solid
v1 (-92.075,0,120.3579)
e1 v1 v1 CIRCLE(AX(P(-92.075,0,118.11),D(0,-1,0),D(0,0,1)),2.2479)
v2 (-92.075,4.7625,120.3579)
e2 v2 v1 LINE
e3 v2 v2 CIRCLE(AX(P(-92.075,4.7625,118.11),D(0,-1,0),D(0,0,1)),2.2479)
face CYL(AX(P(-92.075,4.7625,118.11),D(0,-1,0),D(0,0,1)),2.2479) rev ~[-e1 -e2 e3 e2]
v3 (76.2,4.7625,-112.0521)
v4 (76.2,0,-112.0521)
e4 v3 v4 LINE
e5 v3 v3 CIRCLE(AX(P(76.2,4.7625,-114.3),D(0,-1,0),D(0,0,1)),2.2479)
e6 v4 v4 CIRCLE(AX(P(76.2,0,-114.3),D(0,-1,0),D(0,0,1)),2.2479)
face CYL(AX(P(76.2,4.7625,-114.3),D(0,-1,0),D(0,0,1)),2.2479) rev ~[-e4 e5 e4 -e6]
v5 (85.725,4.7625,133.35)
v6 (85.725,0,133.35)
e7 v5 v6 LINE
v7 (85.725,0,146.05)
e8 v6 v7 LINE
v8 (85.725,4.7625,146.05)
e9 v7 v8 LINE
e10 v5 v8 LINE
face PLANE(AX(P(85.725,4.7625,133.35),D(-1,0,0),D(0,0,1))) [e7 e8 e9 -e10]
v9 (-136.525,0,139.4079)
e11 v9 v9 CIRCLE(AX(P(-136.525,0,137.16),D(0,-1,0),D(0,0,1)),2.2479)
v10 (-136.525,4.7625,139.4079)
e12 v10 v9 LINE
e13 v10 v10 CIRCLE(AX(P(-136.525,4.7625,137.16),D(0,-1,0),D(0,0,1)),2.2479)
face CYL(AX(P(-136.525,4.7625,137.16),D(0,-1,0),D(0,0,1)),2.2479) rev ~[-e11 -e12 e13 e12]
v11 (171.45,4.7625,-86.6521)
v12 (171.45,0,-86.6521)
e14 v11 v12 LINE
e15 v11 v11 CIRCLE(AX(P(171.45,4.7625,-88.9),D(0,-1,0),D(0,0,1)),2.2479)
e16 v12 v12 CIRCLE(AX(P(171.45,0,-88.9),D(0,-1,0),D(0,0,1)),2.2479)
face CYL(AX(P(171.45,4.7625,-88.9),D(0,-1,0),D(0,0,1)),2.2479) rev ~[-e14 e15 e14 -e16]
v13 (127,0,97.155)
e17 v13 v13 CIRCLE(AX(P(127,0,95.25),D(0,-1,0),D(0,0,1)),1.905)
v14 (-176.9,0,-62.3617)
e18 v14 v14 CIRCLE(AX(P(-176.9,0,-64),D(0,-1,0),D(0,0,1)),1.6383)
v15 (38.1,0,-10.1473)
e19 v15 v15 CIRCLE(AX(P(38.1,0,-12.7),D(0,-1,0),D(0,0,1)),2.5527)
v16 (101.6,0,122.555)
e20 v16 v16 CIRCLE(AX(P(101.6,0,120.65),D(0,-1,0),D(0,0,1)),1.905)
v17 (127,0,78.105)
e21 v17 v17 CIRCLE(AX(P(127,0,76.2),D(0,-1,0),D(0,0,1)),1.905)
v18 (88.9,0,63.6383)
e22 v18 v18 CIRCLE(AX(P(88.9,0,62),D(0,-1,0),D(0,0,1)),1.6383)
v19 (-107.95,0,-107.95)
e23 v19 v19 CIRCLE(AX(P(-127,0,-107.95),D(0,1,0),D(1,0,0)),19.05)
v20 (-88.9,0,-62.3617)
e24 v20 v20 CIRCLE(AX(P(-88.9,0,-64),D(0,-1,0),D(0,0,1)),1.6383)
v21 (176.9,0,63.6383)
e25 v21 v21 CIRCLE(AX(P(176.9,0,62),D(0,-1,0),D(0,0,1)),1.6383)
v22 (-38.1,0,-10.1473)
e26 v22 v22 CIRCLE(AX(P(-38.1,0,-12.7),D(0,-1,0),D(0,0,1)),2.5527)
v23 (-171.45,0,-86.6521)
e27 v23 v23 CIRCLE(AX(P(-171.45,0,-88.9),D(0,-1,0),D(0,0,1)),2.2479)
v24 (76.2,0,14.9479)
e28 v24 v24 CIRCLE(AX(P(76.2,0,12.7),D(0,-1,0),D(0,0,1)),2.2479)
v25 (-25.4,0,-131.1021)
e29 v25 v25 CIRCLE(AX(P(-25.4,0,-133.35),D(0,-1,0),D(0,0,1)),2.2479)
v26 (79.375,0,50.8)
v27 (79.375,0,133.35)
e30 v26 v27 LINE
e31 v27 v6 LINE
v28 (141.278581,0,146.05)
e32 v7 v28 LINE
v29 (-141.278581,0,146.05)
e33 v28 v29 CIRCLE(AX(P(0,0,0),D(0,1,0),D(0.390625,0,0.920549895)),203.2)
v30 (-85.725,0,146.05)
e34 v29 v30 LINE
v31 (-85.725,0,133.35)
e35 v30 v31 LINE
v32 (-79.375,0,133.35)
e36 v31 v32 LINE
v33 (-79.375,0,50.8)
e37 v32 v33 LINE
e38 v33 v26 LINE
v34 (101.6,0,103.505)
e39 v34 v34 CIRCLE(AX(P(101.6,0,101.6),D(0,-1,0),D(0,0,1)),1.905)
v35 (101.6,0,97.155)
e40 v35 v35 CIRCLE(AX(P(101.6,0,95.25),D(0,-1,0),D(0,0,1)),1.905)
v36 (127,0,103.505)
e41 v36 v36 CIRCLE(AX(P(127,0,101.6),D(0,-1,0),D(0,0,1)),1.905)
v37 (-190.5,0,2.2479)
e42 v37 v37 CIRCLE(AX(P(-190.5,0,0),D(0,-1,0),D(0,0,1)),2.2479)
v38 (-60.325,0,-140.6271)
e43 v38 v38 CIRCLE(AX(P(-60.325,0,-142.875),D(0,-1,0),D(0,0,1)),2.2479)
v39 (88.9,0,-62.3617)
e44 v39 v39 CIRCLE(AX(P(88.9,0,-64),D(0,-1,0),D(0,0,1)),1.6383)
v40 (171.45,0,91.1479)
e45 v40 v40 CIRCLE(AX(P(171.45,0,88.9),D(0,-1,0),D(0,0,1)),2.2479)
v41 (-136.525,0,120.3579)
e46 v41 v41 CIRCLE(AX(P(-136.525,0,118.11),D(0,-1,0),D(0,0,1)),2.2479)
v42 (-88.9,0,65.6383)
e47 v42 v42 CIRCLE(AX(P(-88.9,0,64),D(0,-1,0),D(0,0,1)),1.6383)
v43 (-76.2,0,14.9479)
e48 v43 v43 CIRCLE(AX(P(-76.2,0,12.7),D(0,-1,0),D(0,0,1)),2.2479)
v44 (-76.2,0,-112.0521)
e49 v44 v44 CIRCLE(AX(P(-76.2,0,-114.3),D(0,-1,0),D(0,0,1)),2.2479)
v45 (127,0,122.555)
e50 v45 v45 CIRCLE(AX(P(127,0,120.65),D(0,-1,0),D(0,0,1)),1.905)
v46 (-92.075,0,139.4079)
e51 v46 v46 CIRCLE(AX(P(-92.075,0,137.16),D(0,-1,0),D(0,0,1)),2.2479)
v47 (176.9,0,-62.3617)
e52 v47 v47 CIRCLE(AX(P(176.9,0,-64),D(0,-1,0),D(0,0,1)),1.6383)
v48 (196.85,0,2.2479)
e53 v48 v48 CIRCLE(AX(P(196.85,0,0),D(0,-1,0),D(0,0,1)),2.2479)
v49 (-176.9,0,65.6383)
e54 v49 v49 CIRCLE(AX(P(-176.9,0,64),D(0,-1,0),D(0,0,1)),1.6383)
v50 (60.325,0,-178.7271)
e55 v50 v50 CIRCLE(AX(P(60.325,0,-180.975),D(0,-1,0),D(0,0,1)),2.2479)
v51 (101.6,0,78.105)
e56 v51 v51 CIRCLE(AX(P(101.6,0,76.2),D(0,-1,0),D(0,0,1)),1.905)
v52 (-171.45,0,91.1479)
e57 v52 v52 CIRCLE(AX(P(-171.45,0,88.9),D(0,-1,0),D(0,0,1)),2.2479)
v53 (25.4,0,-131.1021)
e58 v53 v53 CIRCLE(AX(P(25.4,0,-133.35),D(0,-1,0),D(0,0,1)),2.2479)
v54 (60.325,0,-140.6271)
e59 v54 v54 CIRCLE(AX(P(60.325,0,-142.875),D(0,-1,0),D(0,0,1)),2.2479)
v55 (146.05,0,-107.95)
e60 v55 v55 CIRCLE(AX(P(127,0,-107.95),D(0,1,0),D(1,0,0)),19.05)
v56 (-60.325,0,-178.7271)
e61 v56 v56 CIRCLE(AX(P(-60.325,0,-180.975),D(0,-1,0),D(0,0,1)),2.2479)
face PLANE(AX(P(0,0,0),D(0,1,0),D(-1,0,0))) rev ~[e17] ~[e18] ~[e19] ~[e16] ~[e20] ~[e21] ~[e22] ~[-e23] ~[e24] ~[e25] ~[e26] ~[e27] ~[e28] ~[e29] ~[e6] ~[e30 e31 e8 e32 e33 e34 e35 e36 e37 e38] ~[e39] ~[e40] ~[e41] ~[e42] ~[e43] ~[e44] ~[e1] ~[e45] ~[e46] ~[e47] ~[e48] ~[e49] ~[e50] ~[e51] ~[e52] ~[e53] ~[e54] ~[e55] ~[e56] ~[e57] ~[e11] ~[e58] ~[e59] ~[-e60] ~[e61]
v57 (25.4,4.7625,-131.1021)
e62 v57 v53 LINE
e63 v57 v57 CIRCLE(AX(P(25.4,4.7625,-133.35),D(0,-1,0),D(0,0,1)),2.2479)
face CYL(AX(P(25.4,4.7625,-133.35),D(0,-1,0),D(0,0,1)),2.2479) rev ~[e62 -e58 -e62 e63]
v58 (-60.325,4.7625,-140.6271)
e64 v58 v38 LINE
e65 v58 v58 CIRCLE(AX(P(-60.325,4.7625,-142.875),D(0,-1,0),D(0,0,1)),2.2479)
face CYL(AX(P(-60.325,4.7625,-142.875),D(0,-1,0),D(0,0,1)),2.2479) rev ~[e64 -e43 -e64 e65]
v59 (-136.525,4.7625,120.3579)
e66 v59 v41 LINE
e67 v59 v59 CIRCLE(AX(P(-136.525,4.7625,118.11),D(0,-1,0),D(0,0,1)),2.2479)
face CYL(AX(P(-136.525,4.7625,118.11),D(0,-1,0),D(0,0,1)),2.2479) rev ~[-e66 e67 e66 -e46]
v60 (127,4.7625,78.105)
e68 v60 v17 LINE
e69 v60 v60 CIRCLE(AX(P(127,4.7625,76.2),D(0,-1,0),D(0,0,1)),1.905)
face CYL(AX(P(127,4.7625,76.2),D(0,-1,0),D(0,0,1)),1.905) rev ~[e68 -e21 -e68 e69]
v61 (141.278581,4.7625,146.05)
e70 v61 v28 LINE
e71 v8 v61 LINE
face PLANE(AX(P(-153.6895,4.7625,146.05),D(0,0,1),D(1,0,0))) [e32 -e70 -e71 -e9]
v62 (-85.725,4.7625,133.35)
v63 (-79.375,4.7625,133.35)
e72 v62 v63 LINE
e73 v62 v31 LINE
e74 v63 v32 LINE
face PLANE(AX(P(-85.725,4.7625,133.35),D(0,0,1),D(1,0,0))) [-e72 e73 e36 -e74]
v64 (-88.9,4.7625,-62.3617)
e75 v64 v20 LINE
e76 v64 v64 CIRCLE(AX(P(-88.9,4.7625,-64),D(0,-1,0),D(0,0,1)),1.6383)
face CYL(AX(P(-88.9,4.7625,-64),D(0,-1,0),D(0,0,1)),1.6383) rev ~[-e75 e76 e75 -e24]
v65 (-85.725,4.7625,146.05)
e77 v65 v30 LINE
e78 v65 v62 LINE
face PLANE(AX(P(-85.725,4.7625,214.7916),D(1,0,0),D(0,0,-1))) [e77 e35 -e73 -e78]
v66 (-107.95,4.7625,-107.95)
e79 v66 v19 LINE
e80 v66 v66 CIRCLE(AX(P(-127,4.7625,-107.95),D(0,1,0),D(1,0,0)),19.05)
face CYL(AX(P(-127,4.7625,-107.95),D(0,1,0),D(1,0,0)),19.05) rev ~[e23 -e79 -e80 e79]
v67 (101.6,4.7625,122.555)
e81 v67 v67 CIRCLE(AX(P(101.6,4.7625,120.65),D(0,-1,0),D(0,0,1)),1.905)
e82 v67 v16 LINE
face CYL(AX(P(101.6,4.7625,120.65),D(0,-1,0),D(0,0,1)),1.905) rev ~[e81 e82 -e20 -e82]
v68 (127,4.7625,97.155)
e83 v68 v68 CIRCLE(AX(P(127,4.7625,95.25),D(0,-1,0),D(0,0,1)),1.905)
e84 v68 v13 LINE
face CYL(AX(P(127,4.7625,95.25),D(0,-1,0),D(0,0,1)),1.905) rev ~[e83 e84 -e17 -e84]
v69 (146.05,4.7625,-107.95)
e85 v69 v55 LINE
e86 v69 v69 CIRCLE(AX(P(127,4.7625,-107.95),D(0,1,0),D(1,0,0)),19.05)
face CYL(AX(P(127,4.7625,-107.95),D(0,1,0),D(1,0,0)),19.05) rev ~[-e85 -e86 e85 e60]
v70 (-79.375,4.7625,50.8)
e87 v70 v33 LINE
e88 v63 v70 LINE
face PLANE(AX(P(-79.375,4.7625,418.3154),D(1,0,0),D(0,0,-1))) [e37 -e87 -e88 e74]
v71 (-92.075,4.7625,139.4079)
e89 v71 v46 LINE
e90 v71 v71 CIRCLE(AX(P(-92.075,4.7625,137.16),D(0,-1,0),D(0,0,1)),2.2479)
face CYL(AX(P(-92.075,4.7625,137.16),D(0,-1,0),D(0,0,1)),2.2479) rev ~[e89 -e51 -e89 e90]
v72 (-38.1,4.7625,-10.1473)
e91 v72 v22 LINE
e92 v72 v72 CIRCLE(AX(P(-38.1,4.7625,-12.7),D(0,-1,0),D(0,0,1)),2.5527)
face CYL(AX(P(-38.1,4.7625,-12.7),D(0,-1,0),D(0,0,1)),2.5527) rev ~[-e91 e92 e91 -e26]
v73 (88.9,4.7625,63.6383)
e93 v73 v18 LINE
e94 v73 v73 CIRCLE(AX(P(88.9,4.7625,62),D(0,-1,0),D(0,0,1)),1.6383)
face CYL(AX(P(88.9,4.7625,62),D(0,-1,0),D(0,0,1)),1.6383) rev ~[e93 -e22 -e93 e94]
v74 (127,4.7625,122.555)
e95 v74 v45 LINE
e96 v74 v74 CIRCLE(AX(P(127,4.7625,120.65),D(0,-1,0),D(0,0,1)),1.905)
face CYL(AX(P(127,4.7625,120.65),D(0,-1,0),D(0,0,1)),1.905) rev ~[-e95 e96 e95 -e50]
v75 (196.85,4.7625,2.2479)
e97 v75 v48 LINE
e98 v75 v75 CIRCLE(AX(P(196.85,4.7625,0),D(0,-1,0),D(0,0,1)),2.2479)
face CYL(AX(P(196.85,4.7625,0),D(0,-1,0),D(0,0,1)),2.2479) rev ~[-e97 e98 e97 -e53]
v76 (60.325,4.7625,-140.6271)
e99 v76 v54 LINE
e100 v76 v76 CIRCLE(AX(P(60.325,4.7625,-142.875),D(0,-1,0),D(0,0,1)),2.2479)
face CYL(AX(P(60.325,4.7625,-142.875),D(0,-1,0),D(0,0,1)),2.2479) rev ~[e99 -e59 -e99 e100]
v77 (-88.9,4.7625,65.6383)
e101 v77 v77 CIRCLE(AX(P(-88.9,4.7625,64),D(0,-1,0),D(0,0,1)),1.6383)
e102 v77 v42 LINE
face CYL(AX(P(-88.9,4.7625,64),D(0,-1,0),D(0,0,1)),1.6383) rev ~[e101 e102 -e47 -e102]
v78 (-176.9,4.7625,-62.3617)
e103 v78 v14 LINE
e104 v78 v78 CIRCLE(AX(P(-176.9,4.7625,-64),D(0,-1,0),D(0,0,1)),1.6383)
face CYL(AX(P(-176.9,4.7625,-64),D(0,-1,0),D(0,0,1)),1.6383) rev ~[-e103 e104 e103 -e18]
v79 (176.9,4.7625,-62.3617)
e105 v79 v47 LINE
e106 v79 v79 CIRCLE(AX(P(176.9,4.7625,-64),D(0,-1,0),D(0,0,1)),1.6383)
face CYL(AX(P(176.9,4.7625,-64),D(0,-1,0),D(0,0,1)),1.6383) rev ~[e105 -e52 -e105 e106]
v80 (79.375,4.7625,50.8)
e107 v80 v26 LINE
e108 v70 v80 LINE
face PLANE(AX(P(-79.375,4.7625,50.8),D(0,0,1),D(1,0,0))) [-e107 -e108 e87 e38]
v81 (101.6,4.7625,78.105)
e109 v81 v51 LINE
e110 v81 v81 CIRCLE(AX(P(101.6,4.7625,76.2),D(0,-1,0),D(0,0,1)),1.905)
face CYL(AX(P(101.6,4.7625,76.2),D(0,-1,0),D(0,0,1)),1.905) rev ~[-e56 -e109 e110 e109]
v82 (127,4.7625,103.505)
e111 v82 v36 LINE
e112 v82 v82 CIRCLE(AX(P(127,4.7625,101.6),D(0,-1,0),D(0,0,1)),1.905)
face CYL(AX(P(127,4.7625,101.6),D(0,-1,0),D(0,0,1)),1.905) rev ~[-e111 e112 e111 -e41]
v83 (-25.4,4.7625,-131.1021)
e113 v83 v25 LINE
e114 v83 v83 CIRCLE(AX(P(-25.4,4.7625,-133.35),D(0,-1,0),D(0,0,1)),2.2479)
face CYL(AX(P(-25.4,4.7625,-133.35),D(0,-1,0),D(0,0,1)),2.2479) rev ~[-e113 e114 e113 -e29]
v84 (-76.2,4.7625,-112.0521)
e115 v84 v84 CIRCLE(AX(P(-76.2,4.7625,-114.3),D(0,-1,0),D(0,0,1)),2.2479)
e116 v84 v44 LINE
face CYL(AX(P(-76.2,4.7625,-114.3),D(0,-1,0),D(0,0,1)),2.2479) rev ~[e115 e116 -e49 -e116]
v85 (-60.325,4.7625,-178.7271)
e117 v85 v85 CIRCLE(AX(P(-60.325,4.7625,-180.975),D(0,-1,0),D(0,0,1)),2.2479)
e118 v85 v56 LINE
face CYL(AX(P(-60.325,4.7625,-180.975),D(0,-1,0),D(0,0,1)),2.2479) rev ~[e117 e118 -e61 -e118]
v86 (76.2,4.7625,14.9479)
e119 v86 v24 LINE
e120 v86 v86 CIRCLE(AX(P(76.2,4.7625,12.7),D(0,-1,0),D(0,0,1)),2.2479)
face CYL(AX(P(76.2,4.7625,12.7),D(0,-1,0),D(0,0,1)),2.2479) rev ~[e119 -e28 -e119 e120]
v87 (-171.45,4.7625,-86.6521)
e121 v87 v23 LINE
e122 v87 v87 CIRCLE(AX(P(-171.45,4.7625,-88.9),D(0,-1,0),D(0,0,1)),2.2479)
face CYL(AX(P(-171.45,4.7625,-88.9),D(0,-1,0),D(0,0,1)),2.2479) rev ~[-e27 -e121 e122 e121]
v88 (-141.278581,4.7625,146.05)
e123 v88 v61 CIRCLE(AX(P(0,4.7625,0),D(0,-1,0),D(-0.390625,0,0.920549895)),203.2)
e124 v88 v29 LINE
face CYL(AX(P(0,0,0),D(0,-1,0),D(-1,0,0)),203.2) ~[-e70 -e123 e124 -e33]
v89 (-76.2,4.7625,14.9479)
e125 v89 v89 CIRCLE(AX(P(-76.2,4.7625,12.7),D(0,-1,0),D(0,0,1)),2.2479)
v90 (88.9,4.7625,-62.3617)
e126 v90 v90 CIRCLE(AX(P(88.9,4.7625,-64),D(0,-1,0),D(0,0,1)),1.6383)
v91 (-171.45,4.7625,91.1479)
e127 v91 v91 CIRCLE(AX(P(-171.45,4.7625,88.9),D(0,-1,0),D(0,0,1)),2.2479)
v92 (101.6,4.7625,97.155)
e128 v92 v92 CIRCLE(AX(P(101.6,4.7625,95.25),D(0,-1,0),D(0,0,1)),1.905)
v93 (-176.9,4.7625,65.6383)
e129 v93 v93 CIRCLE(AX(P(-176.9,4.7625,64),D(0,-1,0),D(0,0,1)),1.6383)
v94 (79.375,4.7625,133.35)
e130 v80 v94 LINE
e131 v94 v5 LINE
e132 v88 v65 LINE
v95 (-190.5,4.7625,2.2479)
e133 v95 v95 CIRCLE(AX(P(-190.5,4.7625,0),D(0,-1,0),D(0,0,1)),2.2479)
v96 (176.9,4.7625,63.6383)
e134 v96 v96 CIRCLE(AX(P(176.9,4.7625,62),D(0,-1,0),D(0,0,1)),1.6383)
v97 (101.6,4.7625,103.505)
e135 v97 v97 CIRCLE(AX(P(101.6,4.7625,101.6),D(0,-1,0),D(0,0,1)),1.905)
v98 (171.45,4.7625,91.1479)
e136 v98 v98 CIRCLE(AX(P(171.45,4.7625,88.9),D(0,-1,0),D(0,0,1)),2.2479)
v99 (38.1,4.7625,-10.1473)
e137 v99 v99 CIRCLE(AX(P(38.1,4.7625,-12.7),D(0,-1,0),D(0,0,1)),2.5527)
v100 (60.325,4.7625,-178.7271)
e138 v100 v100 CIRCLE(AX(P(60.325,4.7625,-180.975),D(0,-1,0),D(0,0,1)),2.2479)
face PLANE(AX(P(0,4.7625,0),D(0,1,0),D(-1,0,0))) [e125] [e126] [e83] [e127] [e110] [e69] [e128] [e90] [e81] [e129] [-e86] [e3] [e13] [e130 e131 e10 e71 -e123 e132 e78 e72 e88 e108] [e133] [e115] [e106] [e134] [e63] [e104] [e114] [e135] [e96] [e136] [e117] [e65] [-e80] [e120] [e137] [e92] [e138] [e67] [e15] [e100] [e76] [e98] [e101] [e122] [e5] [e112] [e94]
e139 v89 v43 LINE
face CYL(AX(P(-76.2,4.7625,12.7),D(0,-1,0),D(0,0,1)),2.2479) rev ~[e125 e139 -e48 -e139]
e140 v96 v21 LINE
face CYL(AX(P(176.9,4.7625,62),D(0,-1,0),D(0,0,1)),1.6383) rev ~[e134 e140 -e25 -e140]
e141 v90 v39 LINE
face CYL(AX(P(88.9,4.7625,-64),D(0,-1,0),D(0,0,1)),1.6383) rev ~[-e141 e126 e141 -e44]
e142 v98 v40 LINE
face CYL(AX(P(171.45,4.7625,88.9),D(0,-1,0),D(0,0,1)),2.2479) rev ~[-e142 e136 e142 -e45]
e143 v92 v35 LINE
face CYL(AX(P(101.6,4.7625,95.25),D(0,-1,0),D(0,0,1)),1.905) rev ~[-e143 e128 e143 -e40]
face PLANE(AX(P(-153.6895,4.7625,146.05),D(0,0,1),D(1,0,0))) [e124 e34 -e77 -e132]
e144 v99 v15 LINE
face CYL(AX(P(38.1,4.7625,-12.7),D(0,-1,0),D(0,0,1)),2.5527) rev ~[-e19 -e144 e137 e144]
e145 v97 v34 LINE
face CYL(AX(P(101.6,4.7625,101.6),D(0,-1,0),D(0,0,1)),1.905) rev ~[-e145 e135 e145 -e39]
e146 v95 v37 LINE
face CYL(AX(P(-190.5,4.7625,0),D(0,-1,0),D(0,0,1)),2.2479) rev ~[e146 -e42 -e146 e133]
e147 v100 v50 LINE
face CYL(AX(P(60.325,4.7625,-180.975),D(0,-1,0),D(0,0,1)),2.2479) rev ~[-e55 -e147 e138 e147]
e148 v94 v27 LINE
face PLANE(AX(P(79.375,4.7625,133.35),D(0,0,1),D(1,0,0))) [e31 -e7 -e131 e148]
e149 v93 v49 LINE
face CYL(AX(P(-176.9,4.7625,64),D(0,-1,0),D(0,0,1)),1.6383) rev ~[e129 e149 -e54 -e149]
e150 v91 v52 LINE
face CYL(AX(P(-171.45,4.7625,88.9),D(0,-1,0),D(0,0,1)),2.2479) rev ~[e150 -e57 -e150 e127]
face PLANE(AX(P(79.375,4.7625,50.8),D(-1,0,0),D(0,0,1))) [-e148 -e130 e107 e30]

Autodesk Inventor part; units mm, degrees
ref_plane "YZ Plane" through (0, 0, 0) normal (1, 0, 0) x (0, 1, 0)
ref_plane "XZ Plane" through (0, 0, 0) normal (0, 1, 0) x (-1, 0, 0)
ref_plane "XY Plane" through (0, 0, 0) normal (0, 0, 1) x (1, 0, 0)
sketch "Sketch1" plane through (0, 0, 0) normal (0, 1, 0) x (-1, 0, 0)
  circle A0 centre (0, 0) radius 203.2
  dimension "d0" = 406.4
extrude "Extrusion1" add sketch "Sketch1" along normal blind 4.7625
sketch "Sketch2" plane through (0, 4.7625, 0) normal (0, 1, 0) x (1, 0, 0)
  point P0 (0, 0)
  point P1 (-88.9, 64)
  point P2 (-176.9, 64)
  point P3 (-88.9, -64)
  point P4 (-176.9, -64)
  dimension "d3" = 0
  dimension "d4" = 0
  dimension "d5" = 0
  dimension "d6" = 0
  dimension "d7" = 128
  dimension "d8" = 88
  dimension "d9" = 64
  dimension "d10" = 88.9
hole "Hole1" at (-88.9, 4.7625, -64) at (-176.9, 4.7625, -64) at (-88.9, 4.7625, 64) at (-176.9, 4.7625, 64) direction (0, -1, 0) diameter 3.2766 end through all clearance for "Flat Head Machine Screw (82)" size "#4" standard "Ansi Unified Screw Threads"
sketch "Sketch3" plane through (0, 4.7625, 0) normal (0, 1, 0) x (1, 0, 0)
  point P0 (0, 0)
  point P1 (88.9, 64)
  point P2 (176.9, 64)
  point P3 (88.9, -62)
  point P4 (176.9, -62)
  dimension "d18" = 0
  dimension "d19" = 0
  dimension "d20" = 0
  dimension "d21" = 0
  dimension "d22" = 126
  dimension "d23" = 88
  dimension "d24" = 64
  dimension "d25" = 88.9
hole "Hole2" at (88.9, 4.7625, -64) at (176.9, 4.7625, -64) at (88.9, 4.7625, 62) at (176.9, 4.7625, 62) direction (0, -1, 0) diameter 3.2766 end through all clearance for "Flat Head Machine Screw (82)" size "#4" standard "Ansi Unified Screw Threads"
sketch "Sketch4" plane through (0, 4.7625, 0) normal (0, 1, 0) x (1, 0, 0)
  point P0 (0, 0)
  point P1 (-38.1, 12.7)
  point P2 (38.1, 12.7)
  dimension "d33" = 38.1
  dimension "d34" = 0
  dimension "d35" = 76.2
  dimension "d125" = 12.7
hole "Hole3" at (-38.1, 4.7625, -12.7) at (38.1, 4.7625, -12.7) direction (0, -1, 0) diameter 5.1054 end through all clearance for "Flat Head Machine Screw (82)" size "#10" standard "Ansi Unified Screw Threads"
sketch "Sketch5" plane through (0, 4.7625, 0) normal (0, 1, 0) x (1, 0, 0)
  line L0 (-79.375, -50.8) -> (79.375, -50.8)
  line L1 (79.375, -50.8) -> (79.375, -418.3154)
  line L2 (79.375, -418.3154) -> (-79.375, -418.3154)
  line L3 (-79.375, -418.3154) -> (-79.375, -50.8)
  point P0 (0, 0)
  dimension "d44" = 158.75
  dimension "d45" = 79.375
  dimension "d46" = 50.8
extrude "Extrusion2" cut sketch "Sketch5" against normal blind 25.4
sketch "Sketch6" plane through (0, 4.7625, 0) normal (0, 1, 0) x (1, 0, 0)
  line L0 (-85.725, -133.35) -> (85.725, -133.35)
  line L1 (85.725, -133.35) -> (85.725, -214.7916)
  line L2 (85.725, -214.7916) -> (-85.725, -214.7916)
  line L3 (-85.725, -214.7916) -> (-85.725, -133.35)
  line L4 (-79.375, -50.8) -> (79.375, -50.8) projected
  line L5 (-79.375, -187.0557) -> (-79.375, -50.8) projected
  line L6 (79.375, -50.8) -> (79.375, -187.0557) projected
  point P0 (0, 0)
  dimension "d49" = 82.55
  dimension "d50" = 6.35
  dimension "d51" = 6.35
extrude "Extrusion3" cut sketch "Sketch6" against normal blind 25.4 contours L0 L1 L2 L3
sketch "Sketch8" plane through (0, 4.7625, 0) normal (0, 1, 0) x (1, 0, 0)
  line L0 (-85.725, -133.35) -> (-79.375, -133.35) projected
  line L1 (-85.725, -184.2321) -> (-85.725, -133.35) projected
  point P0 (0, 0)
  point P1 (-136.525, -118.11)
  point P2 (-92.075, -118.11)
  point P3 (-136.525, -137.16)
  point P4 (-92.075, -137.16)
  dimension "d65" = 0
  dimension "d66" = 0
  dimension "d67" = 0
  dimension "d68" = 44.45
  dimension "d69" = 19.05
  dimension "d70" = 0
  dimension "d71" = 15.24
  dimension "d72" = 6.35
hole "Hole5" at (-136.525, 4.7625, 118.11) at (-92.075, 4.7625, 118.11) at (-136.525, 4.7625, 137.16) at (-92.075, 4.7625, 137.16) direction (0, -1, 0) diameter 4.4958 end through all clearance for "Flat Head Machine Screw (82)" size "#8" standard "Ansi Unified Screw Threads"
sketch "Sketch9" plane through (0, 4.7625, 0) normal (0, 1, 0) x (1, 0, 0)
  point P0 (0, 0)
  point P1 (-190.5, 0)
  point P2 (-171.45, 88.9)
  point P3 (-171.45, -88.9)
  dimension "d80" = 190.5
  dimension "d81" = 171.45
  dimension "d82" = 88.9
  dimension "d83" = 88.9
  dimension "d84" = 171.45
hole "Hole6" at (-190.5, 4.7625, 0) at (-171.45, 4.7625, -88.9) at (-171.45, 4.7625, 88.9) direction (0, -1, 0) diameter 4.4958 end through all clearance for "Flat Head Machine Screw (82)" size "#8" standard "Ansi Unified Screw Threads"
sketch "Sketch10" plane through (0, 4.7625, 0) normal (0, 1, 0) x (1, 0, 0)
  point P0 (0, 0)
  point P1 (196.85, 0)
  point P2 (171.45, 88.9)
  point P3 (171.45, -88.9)
  dimension "d92" = 0
  dimension "d93" = 196.85
  dimension "d94" = 171.45
  dimension "d95" = 171.45
  dimension "d96" = 88.9
  dimension "d97" = 88.9
hole "Hole7" at (196.85, 4.7625, 0) at (171.45, 4.7625, -88.9) at (171.45, 4.7625, 88.9) direction (0, -1, 0) diameter 4.4958 end through all clearance for "Flat Head Machine Screw (82)" size "#8" standard "Ansi Unified Screw Threads"
sketch "Sketch11" plane through (0, 4.7625, 0) normal (0, 1, 0) x (1, 0, 0)
  line L0 (-153.6895, -146.05) -> (154.4346, -146.05)
  line L1 (154.4346, -146.05) -> (154.4346, -205.4298)
  line L2 (154.4346, -205.4298) -> (-153.6895, -205.4298)
  line L3 (-153.6895, -205.4298) -> (-153.6895, -146.05)
  line L4 (-79.375, -50.8) -> (79.375, -50.8) projected
  point P0 (0, 0)
  dimension "d105" = 95.25
extrude "Extrusion4" cut sketch "Sketch11" against normal blind 25.4
sketch "Sketch12" plane through (0, 4.7625, 0) normal (0, 1, 0) x (1, 0, 0)
  point P0 (0, 0)
  point P1 (-76.2, 114.3)
  point P2 (-76.2, -12.7)
  point P3 (76.2, 114.3)
  point P4 (76.2, -12.7)
  dimension "d108" = 0
  dimension "d109" = 0
  dimension "d110" = 0
  dimension "d111" = 0
  dimension "d112" = 76.2
  dimension "d113" = 76.2
  dimension "d115" = 127
  dimension "d123" = 12.7
hole "Hole8" at (-76.2, 4.7625, -114.3) at (-76.2, 4.7625, 12.7) at (76.2, 4.7625, -114.3) at (76.2, 4.7625, 12.7) direction (0, -1, 0) diameter 4.4958 end through all clearance for "Flat Head Machine Screw (82)" size "#8" standard "Ansi Unified Screw Threads"
sketch "Sketch13" plane through (0, 4.7625, 0) normal (0, 1, 0) x (1, 0, 0)
  circle A0 centre (-38.1, 12.7) radius 2.5527 projected
  point P0 (0, 0)
  point P1 (-25.4, 133.35)
  point P2 (25.4, 133.35)
  dimension "d127" = 0
  dimension "d128" = 50.8
  dimension "d129" = 12.7
  dimension "d137" = 120.65
hole "Hole9" at (-25.4, 4.7625, -133.35) at (25.4, 4.7625, -133.35) direction (0, -1, 0) diameter 4.4958 end through all clearance for "Flat Head Machine Screw (82)" size "#8" standard "Ansi Unified Screw Threads"
sketch "Sketch14" plane through (0, 4.7625, 0) normal (0, 1, 0) x (1, 0, 0)
  circle A0 centre (-127, 107.95) radius 19.05
  circle A1 centre (127, 107.95) radius 19.05
  point P0 (0, 0)
  dimension "d138" = 38.1
  dimension "d139" = 127
  dimension "d140" = 107.95
  dimension "d141" = 38.1
  dimension "d142" = 0
  dimension "d143" = 127
extrude "Extrusion5" cut sketch "Sketch14" against normal blind 25.4
sketch "Sketch15" plane through (0, 4.7625, 0) normal (0, 1, 0) x (1, 0, 0)
  arc A0 (141.2786, -146.05) -> (-141.2786, -146.05) centre (0, 0) ccw projected
  point P0 (101.6, -76.2)
  point P1 (101.6, -95.25)
  point P2 (101.6, -101.6)
  point P3 (101.6, -120.65)
  point P4 (127, -120.65)
  point P5 (127, -101.6)
  point P6 (127, -95.25)
  point P7 (127, -76.2)
  dimension "d146" = 0
  dimension "d147" = 0
  dimension "d148" = 0
  dimension "d149" = 0
  dimension "d150" = 0
  dimension "d151" = 19.05
  dimension "d152" = 19.05
  dimension "d153" = 6.35
  dimension "d154" = 0
  dimension "d155" = 0
  dimension "d156" = 0
  dimension "d157" = 0
  dimension "d158" = 25.4
  dimension "d159" = 0
  dimension "d160" = 101.6
  dimension "d161" = 76.2
hole "Hole10" at (101.6, 4.7625, 76.2) at (101.6, 4.7625, 95.25) at (101.6, 4.7625, 101.6) at (101.6, 4.7625, 120.65) at (127, 4.7625, 120.65) at (127, 4.7625, 101.6) at (127, 4.7625, 95.25) at (127, 4.7625, 76.2) direction (0, -1, 0) diameter 3.81 end through all clearance for "Flat Head Machine Screw (82)" size "#6" standard "Ansi Unified Screw Threads"
sketch "Sketch16" plane through (0, 4.7625, 0) normal (0, 1, 0) x (1, 0, 0)
  point P0 (0, 0)
  point P1 (-60.325, 142.875)
  point P2 (-60.325, 180.975)
  point P3 (60.325, 142.875)
  point P4 (60.325, 180.975)
  dimension "d169" = 38.1
  dimension "d170" = 142.875
  dimension "d171" = 60.325
  dimension "d172" = 0
  dimension "d173" = 0
  dimension "d174" = 0
  dimension "d175" = 0
  dimension "d176" = 60.325
hole "Hole11" at (-60.325, 4.7625, -142.875) at (-60.325, 4.7625, -180.975) at (60.325, 4.7625, -142.875) at (60.325, 4.7625, -180.975) direction (0, -1, 0) diameter 4.4958 end through all clearance for "Flat Head Machine Screw (82)" size "#8" standard "Ansi Unified Screw Threads"
properties part number "TopPlate"
